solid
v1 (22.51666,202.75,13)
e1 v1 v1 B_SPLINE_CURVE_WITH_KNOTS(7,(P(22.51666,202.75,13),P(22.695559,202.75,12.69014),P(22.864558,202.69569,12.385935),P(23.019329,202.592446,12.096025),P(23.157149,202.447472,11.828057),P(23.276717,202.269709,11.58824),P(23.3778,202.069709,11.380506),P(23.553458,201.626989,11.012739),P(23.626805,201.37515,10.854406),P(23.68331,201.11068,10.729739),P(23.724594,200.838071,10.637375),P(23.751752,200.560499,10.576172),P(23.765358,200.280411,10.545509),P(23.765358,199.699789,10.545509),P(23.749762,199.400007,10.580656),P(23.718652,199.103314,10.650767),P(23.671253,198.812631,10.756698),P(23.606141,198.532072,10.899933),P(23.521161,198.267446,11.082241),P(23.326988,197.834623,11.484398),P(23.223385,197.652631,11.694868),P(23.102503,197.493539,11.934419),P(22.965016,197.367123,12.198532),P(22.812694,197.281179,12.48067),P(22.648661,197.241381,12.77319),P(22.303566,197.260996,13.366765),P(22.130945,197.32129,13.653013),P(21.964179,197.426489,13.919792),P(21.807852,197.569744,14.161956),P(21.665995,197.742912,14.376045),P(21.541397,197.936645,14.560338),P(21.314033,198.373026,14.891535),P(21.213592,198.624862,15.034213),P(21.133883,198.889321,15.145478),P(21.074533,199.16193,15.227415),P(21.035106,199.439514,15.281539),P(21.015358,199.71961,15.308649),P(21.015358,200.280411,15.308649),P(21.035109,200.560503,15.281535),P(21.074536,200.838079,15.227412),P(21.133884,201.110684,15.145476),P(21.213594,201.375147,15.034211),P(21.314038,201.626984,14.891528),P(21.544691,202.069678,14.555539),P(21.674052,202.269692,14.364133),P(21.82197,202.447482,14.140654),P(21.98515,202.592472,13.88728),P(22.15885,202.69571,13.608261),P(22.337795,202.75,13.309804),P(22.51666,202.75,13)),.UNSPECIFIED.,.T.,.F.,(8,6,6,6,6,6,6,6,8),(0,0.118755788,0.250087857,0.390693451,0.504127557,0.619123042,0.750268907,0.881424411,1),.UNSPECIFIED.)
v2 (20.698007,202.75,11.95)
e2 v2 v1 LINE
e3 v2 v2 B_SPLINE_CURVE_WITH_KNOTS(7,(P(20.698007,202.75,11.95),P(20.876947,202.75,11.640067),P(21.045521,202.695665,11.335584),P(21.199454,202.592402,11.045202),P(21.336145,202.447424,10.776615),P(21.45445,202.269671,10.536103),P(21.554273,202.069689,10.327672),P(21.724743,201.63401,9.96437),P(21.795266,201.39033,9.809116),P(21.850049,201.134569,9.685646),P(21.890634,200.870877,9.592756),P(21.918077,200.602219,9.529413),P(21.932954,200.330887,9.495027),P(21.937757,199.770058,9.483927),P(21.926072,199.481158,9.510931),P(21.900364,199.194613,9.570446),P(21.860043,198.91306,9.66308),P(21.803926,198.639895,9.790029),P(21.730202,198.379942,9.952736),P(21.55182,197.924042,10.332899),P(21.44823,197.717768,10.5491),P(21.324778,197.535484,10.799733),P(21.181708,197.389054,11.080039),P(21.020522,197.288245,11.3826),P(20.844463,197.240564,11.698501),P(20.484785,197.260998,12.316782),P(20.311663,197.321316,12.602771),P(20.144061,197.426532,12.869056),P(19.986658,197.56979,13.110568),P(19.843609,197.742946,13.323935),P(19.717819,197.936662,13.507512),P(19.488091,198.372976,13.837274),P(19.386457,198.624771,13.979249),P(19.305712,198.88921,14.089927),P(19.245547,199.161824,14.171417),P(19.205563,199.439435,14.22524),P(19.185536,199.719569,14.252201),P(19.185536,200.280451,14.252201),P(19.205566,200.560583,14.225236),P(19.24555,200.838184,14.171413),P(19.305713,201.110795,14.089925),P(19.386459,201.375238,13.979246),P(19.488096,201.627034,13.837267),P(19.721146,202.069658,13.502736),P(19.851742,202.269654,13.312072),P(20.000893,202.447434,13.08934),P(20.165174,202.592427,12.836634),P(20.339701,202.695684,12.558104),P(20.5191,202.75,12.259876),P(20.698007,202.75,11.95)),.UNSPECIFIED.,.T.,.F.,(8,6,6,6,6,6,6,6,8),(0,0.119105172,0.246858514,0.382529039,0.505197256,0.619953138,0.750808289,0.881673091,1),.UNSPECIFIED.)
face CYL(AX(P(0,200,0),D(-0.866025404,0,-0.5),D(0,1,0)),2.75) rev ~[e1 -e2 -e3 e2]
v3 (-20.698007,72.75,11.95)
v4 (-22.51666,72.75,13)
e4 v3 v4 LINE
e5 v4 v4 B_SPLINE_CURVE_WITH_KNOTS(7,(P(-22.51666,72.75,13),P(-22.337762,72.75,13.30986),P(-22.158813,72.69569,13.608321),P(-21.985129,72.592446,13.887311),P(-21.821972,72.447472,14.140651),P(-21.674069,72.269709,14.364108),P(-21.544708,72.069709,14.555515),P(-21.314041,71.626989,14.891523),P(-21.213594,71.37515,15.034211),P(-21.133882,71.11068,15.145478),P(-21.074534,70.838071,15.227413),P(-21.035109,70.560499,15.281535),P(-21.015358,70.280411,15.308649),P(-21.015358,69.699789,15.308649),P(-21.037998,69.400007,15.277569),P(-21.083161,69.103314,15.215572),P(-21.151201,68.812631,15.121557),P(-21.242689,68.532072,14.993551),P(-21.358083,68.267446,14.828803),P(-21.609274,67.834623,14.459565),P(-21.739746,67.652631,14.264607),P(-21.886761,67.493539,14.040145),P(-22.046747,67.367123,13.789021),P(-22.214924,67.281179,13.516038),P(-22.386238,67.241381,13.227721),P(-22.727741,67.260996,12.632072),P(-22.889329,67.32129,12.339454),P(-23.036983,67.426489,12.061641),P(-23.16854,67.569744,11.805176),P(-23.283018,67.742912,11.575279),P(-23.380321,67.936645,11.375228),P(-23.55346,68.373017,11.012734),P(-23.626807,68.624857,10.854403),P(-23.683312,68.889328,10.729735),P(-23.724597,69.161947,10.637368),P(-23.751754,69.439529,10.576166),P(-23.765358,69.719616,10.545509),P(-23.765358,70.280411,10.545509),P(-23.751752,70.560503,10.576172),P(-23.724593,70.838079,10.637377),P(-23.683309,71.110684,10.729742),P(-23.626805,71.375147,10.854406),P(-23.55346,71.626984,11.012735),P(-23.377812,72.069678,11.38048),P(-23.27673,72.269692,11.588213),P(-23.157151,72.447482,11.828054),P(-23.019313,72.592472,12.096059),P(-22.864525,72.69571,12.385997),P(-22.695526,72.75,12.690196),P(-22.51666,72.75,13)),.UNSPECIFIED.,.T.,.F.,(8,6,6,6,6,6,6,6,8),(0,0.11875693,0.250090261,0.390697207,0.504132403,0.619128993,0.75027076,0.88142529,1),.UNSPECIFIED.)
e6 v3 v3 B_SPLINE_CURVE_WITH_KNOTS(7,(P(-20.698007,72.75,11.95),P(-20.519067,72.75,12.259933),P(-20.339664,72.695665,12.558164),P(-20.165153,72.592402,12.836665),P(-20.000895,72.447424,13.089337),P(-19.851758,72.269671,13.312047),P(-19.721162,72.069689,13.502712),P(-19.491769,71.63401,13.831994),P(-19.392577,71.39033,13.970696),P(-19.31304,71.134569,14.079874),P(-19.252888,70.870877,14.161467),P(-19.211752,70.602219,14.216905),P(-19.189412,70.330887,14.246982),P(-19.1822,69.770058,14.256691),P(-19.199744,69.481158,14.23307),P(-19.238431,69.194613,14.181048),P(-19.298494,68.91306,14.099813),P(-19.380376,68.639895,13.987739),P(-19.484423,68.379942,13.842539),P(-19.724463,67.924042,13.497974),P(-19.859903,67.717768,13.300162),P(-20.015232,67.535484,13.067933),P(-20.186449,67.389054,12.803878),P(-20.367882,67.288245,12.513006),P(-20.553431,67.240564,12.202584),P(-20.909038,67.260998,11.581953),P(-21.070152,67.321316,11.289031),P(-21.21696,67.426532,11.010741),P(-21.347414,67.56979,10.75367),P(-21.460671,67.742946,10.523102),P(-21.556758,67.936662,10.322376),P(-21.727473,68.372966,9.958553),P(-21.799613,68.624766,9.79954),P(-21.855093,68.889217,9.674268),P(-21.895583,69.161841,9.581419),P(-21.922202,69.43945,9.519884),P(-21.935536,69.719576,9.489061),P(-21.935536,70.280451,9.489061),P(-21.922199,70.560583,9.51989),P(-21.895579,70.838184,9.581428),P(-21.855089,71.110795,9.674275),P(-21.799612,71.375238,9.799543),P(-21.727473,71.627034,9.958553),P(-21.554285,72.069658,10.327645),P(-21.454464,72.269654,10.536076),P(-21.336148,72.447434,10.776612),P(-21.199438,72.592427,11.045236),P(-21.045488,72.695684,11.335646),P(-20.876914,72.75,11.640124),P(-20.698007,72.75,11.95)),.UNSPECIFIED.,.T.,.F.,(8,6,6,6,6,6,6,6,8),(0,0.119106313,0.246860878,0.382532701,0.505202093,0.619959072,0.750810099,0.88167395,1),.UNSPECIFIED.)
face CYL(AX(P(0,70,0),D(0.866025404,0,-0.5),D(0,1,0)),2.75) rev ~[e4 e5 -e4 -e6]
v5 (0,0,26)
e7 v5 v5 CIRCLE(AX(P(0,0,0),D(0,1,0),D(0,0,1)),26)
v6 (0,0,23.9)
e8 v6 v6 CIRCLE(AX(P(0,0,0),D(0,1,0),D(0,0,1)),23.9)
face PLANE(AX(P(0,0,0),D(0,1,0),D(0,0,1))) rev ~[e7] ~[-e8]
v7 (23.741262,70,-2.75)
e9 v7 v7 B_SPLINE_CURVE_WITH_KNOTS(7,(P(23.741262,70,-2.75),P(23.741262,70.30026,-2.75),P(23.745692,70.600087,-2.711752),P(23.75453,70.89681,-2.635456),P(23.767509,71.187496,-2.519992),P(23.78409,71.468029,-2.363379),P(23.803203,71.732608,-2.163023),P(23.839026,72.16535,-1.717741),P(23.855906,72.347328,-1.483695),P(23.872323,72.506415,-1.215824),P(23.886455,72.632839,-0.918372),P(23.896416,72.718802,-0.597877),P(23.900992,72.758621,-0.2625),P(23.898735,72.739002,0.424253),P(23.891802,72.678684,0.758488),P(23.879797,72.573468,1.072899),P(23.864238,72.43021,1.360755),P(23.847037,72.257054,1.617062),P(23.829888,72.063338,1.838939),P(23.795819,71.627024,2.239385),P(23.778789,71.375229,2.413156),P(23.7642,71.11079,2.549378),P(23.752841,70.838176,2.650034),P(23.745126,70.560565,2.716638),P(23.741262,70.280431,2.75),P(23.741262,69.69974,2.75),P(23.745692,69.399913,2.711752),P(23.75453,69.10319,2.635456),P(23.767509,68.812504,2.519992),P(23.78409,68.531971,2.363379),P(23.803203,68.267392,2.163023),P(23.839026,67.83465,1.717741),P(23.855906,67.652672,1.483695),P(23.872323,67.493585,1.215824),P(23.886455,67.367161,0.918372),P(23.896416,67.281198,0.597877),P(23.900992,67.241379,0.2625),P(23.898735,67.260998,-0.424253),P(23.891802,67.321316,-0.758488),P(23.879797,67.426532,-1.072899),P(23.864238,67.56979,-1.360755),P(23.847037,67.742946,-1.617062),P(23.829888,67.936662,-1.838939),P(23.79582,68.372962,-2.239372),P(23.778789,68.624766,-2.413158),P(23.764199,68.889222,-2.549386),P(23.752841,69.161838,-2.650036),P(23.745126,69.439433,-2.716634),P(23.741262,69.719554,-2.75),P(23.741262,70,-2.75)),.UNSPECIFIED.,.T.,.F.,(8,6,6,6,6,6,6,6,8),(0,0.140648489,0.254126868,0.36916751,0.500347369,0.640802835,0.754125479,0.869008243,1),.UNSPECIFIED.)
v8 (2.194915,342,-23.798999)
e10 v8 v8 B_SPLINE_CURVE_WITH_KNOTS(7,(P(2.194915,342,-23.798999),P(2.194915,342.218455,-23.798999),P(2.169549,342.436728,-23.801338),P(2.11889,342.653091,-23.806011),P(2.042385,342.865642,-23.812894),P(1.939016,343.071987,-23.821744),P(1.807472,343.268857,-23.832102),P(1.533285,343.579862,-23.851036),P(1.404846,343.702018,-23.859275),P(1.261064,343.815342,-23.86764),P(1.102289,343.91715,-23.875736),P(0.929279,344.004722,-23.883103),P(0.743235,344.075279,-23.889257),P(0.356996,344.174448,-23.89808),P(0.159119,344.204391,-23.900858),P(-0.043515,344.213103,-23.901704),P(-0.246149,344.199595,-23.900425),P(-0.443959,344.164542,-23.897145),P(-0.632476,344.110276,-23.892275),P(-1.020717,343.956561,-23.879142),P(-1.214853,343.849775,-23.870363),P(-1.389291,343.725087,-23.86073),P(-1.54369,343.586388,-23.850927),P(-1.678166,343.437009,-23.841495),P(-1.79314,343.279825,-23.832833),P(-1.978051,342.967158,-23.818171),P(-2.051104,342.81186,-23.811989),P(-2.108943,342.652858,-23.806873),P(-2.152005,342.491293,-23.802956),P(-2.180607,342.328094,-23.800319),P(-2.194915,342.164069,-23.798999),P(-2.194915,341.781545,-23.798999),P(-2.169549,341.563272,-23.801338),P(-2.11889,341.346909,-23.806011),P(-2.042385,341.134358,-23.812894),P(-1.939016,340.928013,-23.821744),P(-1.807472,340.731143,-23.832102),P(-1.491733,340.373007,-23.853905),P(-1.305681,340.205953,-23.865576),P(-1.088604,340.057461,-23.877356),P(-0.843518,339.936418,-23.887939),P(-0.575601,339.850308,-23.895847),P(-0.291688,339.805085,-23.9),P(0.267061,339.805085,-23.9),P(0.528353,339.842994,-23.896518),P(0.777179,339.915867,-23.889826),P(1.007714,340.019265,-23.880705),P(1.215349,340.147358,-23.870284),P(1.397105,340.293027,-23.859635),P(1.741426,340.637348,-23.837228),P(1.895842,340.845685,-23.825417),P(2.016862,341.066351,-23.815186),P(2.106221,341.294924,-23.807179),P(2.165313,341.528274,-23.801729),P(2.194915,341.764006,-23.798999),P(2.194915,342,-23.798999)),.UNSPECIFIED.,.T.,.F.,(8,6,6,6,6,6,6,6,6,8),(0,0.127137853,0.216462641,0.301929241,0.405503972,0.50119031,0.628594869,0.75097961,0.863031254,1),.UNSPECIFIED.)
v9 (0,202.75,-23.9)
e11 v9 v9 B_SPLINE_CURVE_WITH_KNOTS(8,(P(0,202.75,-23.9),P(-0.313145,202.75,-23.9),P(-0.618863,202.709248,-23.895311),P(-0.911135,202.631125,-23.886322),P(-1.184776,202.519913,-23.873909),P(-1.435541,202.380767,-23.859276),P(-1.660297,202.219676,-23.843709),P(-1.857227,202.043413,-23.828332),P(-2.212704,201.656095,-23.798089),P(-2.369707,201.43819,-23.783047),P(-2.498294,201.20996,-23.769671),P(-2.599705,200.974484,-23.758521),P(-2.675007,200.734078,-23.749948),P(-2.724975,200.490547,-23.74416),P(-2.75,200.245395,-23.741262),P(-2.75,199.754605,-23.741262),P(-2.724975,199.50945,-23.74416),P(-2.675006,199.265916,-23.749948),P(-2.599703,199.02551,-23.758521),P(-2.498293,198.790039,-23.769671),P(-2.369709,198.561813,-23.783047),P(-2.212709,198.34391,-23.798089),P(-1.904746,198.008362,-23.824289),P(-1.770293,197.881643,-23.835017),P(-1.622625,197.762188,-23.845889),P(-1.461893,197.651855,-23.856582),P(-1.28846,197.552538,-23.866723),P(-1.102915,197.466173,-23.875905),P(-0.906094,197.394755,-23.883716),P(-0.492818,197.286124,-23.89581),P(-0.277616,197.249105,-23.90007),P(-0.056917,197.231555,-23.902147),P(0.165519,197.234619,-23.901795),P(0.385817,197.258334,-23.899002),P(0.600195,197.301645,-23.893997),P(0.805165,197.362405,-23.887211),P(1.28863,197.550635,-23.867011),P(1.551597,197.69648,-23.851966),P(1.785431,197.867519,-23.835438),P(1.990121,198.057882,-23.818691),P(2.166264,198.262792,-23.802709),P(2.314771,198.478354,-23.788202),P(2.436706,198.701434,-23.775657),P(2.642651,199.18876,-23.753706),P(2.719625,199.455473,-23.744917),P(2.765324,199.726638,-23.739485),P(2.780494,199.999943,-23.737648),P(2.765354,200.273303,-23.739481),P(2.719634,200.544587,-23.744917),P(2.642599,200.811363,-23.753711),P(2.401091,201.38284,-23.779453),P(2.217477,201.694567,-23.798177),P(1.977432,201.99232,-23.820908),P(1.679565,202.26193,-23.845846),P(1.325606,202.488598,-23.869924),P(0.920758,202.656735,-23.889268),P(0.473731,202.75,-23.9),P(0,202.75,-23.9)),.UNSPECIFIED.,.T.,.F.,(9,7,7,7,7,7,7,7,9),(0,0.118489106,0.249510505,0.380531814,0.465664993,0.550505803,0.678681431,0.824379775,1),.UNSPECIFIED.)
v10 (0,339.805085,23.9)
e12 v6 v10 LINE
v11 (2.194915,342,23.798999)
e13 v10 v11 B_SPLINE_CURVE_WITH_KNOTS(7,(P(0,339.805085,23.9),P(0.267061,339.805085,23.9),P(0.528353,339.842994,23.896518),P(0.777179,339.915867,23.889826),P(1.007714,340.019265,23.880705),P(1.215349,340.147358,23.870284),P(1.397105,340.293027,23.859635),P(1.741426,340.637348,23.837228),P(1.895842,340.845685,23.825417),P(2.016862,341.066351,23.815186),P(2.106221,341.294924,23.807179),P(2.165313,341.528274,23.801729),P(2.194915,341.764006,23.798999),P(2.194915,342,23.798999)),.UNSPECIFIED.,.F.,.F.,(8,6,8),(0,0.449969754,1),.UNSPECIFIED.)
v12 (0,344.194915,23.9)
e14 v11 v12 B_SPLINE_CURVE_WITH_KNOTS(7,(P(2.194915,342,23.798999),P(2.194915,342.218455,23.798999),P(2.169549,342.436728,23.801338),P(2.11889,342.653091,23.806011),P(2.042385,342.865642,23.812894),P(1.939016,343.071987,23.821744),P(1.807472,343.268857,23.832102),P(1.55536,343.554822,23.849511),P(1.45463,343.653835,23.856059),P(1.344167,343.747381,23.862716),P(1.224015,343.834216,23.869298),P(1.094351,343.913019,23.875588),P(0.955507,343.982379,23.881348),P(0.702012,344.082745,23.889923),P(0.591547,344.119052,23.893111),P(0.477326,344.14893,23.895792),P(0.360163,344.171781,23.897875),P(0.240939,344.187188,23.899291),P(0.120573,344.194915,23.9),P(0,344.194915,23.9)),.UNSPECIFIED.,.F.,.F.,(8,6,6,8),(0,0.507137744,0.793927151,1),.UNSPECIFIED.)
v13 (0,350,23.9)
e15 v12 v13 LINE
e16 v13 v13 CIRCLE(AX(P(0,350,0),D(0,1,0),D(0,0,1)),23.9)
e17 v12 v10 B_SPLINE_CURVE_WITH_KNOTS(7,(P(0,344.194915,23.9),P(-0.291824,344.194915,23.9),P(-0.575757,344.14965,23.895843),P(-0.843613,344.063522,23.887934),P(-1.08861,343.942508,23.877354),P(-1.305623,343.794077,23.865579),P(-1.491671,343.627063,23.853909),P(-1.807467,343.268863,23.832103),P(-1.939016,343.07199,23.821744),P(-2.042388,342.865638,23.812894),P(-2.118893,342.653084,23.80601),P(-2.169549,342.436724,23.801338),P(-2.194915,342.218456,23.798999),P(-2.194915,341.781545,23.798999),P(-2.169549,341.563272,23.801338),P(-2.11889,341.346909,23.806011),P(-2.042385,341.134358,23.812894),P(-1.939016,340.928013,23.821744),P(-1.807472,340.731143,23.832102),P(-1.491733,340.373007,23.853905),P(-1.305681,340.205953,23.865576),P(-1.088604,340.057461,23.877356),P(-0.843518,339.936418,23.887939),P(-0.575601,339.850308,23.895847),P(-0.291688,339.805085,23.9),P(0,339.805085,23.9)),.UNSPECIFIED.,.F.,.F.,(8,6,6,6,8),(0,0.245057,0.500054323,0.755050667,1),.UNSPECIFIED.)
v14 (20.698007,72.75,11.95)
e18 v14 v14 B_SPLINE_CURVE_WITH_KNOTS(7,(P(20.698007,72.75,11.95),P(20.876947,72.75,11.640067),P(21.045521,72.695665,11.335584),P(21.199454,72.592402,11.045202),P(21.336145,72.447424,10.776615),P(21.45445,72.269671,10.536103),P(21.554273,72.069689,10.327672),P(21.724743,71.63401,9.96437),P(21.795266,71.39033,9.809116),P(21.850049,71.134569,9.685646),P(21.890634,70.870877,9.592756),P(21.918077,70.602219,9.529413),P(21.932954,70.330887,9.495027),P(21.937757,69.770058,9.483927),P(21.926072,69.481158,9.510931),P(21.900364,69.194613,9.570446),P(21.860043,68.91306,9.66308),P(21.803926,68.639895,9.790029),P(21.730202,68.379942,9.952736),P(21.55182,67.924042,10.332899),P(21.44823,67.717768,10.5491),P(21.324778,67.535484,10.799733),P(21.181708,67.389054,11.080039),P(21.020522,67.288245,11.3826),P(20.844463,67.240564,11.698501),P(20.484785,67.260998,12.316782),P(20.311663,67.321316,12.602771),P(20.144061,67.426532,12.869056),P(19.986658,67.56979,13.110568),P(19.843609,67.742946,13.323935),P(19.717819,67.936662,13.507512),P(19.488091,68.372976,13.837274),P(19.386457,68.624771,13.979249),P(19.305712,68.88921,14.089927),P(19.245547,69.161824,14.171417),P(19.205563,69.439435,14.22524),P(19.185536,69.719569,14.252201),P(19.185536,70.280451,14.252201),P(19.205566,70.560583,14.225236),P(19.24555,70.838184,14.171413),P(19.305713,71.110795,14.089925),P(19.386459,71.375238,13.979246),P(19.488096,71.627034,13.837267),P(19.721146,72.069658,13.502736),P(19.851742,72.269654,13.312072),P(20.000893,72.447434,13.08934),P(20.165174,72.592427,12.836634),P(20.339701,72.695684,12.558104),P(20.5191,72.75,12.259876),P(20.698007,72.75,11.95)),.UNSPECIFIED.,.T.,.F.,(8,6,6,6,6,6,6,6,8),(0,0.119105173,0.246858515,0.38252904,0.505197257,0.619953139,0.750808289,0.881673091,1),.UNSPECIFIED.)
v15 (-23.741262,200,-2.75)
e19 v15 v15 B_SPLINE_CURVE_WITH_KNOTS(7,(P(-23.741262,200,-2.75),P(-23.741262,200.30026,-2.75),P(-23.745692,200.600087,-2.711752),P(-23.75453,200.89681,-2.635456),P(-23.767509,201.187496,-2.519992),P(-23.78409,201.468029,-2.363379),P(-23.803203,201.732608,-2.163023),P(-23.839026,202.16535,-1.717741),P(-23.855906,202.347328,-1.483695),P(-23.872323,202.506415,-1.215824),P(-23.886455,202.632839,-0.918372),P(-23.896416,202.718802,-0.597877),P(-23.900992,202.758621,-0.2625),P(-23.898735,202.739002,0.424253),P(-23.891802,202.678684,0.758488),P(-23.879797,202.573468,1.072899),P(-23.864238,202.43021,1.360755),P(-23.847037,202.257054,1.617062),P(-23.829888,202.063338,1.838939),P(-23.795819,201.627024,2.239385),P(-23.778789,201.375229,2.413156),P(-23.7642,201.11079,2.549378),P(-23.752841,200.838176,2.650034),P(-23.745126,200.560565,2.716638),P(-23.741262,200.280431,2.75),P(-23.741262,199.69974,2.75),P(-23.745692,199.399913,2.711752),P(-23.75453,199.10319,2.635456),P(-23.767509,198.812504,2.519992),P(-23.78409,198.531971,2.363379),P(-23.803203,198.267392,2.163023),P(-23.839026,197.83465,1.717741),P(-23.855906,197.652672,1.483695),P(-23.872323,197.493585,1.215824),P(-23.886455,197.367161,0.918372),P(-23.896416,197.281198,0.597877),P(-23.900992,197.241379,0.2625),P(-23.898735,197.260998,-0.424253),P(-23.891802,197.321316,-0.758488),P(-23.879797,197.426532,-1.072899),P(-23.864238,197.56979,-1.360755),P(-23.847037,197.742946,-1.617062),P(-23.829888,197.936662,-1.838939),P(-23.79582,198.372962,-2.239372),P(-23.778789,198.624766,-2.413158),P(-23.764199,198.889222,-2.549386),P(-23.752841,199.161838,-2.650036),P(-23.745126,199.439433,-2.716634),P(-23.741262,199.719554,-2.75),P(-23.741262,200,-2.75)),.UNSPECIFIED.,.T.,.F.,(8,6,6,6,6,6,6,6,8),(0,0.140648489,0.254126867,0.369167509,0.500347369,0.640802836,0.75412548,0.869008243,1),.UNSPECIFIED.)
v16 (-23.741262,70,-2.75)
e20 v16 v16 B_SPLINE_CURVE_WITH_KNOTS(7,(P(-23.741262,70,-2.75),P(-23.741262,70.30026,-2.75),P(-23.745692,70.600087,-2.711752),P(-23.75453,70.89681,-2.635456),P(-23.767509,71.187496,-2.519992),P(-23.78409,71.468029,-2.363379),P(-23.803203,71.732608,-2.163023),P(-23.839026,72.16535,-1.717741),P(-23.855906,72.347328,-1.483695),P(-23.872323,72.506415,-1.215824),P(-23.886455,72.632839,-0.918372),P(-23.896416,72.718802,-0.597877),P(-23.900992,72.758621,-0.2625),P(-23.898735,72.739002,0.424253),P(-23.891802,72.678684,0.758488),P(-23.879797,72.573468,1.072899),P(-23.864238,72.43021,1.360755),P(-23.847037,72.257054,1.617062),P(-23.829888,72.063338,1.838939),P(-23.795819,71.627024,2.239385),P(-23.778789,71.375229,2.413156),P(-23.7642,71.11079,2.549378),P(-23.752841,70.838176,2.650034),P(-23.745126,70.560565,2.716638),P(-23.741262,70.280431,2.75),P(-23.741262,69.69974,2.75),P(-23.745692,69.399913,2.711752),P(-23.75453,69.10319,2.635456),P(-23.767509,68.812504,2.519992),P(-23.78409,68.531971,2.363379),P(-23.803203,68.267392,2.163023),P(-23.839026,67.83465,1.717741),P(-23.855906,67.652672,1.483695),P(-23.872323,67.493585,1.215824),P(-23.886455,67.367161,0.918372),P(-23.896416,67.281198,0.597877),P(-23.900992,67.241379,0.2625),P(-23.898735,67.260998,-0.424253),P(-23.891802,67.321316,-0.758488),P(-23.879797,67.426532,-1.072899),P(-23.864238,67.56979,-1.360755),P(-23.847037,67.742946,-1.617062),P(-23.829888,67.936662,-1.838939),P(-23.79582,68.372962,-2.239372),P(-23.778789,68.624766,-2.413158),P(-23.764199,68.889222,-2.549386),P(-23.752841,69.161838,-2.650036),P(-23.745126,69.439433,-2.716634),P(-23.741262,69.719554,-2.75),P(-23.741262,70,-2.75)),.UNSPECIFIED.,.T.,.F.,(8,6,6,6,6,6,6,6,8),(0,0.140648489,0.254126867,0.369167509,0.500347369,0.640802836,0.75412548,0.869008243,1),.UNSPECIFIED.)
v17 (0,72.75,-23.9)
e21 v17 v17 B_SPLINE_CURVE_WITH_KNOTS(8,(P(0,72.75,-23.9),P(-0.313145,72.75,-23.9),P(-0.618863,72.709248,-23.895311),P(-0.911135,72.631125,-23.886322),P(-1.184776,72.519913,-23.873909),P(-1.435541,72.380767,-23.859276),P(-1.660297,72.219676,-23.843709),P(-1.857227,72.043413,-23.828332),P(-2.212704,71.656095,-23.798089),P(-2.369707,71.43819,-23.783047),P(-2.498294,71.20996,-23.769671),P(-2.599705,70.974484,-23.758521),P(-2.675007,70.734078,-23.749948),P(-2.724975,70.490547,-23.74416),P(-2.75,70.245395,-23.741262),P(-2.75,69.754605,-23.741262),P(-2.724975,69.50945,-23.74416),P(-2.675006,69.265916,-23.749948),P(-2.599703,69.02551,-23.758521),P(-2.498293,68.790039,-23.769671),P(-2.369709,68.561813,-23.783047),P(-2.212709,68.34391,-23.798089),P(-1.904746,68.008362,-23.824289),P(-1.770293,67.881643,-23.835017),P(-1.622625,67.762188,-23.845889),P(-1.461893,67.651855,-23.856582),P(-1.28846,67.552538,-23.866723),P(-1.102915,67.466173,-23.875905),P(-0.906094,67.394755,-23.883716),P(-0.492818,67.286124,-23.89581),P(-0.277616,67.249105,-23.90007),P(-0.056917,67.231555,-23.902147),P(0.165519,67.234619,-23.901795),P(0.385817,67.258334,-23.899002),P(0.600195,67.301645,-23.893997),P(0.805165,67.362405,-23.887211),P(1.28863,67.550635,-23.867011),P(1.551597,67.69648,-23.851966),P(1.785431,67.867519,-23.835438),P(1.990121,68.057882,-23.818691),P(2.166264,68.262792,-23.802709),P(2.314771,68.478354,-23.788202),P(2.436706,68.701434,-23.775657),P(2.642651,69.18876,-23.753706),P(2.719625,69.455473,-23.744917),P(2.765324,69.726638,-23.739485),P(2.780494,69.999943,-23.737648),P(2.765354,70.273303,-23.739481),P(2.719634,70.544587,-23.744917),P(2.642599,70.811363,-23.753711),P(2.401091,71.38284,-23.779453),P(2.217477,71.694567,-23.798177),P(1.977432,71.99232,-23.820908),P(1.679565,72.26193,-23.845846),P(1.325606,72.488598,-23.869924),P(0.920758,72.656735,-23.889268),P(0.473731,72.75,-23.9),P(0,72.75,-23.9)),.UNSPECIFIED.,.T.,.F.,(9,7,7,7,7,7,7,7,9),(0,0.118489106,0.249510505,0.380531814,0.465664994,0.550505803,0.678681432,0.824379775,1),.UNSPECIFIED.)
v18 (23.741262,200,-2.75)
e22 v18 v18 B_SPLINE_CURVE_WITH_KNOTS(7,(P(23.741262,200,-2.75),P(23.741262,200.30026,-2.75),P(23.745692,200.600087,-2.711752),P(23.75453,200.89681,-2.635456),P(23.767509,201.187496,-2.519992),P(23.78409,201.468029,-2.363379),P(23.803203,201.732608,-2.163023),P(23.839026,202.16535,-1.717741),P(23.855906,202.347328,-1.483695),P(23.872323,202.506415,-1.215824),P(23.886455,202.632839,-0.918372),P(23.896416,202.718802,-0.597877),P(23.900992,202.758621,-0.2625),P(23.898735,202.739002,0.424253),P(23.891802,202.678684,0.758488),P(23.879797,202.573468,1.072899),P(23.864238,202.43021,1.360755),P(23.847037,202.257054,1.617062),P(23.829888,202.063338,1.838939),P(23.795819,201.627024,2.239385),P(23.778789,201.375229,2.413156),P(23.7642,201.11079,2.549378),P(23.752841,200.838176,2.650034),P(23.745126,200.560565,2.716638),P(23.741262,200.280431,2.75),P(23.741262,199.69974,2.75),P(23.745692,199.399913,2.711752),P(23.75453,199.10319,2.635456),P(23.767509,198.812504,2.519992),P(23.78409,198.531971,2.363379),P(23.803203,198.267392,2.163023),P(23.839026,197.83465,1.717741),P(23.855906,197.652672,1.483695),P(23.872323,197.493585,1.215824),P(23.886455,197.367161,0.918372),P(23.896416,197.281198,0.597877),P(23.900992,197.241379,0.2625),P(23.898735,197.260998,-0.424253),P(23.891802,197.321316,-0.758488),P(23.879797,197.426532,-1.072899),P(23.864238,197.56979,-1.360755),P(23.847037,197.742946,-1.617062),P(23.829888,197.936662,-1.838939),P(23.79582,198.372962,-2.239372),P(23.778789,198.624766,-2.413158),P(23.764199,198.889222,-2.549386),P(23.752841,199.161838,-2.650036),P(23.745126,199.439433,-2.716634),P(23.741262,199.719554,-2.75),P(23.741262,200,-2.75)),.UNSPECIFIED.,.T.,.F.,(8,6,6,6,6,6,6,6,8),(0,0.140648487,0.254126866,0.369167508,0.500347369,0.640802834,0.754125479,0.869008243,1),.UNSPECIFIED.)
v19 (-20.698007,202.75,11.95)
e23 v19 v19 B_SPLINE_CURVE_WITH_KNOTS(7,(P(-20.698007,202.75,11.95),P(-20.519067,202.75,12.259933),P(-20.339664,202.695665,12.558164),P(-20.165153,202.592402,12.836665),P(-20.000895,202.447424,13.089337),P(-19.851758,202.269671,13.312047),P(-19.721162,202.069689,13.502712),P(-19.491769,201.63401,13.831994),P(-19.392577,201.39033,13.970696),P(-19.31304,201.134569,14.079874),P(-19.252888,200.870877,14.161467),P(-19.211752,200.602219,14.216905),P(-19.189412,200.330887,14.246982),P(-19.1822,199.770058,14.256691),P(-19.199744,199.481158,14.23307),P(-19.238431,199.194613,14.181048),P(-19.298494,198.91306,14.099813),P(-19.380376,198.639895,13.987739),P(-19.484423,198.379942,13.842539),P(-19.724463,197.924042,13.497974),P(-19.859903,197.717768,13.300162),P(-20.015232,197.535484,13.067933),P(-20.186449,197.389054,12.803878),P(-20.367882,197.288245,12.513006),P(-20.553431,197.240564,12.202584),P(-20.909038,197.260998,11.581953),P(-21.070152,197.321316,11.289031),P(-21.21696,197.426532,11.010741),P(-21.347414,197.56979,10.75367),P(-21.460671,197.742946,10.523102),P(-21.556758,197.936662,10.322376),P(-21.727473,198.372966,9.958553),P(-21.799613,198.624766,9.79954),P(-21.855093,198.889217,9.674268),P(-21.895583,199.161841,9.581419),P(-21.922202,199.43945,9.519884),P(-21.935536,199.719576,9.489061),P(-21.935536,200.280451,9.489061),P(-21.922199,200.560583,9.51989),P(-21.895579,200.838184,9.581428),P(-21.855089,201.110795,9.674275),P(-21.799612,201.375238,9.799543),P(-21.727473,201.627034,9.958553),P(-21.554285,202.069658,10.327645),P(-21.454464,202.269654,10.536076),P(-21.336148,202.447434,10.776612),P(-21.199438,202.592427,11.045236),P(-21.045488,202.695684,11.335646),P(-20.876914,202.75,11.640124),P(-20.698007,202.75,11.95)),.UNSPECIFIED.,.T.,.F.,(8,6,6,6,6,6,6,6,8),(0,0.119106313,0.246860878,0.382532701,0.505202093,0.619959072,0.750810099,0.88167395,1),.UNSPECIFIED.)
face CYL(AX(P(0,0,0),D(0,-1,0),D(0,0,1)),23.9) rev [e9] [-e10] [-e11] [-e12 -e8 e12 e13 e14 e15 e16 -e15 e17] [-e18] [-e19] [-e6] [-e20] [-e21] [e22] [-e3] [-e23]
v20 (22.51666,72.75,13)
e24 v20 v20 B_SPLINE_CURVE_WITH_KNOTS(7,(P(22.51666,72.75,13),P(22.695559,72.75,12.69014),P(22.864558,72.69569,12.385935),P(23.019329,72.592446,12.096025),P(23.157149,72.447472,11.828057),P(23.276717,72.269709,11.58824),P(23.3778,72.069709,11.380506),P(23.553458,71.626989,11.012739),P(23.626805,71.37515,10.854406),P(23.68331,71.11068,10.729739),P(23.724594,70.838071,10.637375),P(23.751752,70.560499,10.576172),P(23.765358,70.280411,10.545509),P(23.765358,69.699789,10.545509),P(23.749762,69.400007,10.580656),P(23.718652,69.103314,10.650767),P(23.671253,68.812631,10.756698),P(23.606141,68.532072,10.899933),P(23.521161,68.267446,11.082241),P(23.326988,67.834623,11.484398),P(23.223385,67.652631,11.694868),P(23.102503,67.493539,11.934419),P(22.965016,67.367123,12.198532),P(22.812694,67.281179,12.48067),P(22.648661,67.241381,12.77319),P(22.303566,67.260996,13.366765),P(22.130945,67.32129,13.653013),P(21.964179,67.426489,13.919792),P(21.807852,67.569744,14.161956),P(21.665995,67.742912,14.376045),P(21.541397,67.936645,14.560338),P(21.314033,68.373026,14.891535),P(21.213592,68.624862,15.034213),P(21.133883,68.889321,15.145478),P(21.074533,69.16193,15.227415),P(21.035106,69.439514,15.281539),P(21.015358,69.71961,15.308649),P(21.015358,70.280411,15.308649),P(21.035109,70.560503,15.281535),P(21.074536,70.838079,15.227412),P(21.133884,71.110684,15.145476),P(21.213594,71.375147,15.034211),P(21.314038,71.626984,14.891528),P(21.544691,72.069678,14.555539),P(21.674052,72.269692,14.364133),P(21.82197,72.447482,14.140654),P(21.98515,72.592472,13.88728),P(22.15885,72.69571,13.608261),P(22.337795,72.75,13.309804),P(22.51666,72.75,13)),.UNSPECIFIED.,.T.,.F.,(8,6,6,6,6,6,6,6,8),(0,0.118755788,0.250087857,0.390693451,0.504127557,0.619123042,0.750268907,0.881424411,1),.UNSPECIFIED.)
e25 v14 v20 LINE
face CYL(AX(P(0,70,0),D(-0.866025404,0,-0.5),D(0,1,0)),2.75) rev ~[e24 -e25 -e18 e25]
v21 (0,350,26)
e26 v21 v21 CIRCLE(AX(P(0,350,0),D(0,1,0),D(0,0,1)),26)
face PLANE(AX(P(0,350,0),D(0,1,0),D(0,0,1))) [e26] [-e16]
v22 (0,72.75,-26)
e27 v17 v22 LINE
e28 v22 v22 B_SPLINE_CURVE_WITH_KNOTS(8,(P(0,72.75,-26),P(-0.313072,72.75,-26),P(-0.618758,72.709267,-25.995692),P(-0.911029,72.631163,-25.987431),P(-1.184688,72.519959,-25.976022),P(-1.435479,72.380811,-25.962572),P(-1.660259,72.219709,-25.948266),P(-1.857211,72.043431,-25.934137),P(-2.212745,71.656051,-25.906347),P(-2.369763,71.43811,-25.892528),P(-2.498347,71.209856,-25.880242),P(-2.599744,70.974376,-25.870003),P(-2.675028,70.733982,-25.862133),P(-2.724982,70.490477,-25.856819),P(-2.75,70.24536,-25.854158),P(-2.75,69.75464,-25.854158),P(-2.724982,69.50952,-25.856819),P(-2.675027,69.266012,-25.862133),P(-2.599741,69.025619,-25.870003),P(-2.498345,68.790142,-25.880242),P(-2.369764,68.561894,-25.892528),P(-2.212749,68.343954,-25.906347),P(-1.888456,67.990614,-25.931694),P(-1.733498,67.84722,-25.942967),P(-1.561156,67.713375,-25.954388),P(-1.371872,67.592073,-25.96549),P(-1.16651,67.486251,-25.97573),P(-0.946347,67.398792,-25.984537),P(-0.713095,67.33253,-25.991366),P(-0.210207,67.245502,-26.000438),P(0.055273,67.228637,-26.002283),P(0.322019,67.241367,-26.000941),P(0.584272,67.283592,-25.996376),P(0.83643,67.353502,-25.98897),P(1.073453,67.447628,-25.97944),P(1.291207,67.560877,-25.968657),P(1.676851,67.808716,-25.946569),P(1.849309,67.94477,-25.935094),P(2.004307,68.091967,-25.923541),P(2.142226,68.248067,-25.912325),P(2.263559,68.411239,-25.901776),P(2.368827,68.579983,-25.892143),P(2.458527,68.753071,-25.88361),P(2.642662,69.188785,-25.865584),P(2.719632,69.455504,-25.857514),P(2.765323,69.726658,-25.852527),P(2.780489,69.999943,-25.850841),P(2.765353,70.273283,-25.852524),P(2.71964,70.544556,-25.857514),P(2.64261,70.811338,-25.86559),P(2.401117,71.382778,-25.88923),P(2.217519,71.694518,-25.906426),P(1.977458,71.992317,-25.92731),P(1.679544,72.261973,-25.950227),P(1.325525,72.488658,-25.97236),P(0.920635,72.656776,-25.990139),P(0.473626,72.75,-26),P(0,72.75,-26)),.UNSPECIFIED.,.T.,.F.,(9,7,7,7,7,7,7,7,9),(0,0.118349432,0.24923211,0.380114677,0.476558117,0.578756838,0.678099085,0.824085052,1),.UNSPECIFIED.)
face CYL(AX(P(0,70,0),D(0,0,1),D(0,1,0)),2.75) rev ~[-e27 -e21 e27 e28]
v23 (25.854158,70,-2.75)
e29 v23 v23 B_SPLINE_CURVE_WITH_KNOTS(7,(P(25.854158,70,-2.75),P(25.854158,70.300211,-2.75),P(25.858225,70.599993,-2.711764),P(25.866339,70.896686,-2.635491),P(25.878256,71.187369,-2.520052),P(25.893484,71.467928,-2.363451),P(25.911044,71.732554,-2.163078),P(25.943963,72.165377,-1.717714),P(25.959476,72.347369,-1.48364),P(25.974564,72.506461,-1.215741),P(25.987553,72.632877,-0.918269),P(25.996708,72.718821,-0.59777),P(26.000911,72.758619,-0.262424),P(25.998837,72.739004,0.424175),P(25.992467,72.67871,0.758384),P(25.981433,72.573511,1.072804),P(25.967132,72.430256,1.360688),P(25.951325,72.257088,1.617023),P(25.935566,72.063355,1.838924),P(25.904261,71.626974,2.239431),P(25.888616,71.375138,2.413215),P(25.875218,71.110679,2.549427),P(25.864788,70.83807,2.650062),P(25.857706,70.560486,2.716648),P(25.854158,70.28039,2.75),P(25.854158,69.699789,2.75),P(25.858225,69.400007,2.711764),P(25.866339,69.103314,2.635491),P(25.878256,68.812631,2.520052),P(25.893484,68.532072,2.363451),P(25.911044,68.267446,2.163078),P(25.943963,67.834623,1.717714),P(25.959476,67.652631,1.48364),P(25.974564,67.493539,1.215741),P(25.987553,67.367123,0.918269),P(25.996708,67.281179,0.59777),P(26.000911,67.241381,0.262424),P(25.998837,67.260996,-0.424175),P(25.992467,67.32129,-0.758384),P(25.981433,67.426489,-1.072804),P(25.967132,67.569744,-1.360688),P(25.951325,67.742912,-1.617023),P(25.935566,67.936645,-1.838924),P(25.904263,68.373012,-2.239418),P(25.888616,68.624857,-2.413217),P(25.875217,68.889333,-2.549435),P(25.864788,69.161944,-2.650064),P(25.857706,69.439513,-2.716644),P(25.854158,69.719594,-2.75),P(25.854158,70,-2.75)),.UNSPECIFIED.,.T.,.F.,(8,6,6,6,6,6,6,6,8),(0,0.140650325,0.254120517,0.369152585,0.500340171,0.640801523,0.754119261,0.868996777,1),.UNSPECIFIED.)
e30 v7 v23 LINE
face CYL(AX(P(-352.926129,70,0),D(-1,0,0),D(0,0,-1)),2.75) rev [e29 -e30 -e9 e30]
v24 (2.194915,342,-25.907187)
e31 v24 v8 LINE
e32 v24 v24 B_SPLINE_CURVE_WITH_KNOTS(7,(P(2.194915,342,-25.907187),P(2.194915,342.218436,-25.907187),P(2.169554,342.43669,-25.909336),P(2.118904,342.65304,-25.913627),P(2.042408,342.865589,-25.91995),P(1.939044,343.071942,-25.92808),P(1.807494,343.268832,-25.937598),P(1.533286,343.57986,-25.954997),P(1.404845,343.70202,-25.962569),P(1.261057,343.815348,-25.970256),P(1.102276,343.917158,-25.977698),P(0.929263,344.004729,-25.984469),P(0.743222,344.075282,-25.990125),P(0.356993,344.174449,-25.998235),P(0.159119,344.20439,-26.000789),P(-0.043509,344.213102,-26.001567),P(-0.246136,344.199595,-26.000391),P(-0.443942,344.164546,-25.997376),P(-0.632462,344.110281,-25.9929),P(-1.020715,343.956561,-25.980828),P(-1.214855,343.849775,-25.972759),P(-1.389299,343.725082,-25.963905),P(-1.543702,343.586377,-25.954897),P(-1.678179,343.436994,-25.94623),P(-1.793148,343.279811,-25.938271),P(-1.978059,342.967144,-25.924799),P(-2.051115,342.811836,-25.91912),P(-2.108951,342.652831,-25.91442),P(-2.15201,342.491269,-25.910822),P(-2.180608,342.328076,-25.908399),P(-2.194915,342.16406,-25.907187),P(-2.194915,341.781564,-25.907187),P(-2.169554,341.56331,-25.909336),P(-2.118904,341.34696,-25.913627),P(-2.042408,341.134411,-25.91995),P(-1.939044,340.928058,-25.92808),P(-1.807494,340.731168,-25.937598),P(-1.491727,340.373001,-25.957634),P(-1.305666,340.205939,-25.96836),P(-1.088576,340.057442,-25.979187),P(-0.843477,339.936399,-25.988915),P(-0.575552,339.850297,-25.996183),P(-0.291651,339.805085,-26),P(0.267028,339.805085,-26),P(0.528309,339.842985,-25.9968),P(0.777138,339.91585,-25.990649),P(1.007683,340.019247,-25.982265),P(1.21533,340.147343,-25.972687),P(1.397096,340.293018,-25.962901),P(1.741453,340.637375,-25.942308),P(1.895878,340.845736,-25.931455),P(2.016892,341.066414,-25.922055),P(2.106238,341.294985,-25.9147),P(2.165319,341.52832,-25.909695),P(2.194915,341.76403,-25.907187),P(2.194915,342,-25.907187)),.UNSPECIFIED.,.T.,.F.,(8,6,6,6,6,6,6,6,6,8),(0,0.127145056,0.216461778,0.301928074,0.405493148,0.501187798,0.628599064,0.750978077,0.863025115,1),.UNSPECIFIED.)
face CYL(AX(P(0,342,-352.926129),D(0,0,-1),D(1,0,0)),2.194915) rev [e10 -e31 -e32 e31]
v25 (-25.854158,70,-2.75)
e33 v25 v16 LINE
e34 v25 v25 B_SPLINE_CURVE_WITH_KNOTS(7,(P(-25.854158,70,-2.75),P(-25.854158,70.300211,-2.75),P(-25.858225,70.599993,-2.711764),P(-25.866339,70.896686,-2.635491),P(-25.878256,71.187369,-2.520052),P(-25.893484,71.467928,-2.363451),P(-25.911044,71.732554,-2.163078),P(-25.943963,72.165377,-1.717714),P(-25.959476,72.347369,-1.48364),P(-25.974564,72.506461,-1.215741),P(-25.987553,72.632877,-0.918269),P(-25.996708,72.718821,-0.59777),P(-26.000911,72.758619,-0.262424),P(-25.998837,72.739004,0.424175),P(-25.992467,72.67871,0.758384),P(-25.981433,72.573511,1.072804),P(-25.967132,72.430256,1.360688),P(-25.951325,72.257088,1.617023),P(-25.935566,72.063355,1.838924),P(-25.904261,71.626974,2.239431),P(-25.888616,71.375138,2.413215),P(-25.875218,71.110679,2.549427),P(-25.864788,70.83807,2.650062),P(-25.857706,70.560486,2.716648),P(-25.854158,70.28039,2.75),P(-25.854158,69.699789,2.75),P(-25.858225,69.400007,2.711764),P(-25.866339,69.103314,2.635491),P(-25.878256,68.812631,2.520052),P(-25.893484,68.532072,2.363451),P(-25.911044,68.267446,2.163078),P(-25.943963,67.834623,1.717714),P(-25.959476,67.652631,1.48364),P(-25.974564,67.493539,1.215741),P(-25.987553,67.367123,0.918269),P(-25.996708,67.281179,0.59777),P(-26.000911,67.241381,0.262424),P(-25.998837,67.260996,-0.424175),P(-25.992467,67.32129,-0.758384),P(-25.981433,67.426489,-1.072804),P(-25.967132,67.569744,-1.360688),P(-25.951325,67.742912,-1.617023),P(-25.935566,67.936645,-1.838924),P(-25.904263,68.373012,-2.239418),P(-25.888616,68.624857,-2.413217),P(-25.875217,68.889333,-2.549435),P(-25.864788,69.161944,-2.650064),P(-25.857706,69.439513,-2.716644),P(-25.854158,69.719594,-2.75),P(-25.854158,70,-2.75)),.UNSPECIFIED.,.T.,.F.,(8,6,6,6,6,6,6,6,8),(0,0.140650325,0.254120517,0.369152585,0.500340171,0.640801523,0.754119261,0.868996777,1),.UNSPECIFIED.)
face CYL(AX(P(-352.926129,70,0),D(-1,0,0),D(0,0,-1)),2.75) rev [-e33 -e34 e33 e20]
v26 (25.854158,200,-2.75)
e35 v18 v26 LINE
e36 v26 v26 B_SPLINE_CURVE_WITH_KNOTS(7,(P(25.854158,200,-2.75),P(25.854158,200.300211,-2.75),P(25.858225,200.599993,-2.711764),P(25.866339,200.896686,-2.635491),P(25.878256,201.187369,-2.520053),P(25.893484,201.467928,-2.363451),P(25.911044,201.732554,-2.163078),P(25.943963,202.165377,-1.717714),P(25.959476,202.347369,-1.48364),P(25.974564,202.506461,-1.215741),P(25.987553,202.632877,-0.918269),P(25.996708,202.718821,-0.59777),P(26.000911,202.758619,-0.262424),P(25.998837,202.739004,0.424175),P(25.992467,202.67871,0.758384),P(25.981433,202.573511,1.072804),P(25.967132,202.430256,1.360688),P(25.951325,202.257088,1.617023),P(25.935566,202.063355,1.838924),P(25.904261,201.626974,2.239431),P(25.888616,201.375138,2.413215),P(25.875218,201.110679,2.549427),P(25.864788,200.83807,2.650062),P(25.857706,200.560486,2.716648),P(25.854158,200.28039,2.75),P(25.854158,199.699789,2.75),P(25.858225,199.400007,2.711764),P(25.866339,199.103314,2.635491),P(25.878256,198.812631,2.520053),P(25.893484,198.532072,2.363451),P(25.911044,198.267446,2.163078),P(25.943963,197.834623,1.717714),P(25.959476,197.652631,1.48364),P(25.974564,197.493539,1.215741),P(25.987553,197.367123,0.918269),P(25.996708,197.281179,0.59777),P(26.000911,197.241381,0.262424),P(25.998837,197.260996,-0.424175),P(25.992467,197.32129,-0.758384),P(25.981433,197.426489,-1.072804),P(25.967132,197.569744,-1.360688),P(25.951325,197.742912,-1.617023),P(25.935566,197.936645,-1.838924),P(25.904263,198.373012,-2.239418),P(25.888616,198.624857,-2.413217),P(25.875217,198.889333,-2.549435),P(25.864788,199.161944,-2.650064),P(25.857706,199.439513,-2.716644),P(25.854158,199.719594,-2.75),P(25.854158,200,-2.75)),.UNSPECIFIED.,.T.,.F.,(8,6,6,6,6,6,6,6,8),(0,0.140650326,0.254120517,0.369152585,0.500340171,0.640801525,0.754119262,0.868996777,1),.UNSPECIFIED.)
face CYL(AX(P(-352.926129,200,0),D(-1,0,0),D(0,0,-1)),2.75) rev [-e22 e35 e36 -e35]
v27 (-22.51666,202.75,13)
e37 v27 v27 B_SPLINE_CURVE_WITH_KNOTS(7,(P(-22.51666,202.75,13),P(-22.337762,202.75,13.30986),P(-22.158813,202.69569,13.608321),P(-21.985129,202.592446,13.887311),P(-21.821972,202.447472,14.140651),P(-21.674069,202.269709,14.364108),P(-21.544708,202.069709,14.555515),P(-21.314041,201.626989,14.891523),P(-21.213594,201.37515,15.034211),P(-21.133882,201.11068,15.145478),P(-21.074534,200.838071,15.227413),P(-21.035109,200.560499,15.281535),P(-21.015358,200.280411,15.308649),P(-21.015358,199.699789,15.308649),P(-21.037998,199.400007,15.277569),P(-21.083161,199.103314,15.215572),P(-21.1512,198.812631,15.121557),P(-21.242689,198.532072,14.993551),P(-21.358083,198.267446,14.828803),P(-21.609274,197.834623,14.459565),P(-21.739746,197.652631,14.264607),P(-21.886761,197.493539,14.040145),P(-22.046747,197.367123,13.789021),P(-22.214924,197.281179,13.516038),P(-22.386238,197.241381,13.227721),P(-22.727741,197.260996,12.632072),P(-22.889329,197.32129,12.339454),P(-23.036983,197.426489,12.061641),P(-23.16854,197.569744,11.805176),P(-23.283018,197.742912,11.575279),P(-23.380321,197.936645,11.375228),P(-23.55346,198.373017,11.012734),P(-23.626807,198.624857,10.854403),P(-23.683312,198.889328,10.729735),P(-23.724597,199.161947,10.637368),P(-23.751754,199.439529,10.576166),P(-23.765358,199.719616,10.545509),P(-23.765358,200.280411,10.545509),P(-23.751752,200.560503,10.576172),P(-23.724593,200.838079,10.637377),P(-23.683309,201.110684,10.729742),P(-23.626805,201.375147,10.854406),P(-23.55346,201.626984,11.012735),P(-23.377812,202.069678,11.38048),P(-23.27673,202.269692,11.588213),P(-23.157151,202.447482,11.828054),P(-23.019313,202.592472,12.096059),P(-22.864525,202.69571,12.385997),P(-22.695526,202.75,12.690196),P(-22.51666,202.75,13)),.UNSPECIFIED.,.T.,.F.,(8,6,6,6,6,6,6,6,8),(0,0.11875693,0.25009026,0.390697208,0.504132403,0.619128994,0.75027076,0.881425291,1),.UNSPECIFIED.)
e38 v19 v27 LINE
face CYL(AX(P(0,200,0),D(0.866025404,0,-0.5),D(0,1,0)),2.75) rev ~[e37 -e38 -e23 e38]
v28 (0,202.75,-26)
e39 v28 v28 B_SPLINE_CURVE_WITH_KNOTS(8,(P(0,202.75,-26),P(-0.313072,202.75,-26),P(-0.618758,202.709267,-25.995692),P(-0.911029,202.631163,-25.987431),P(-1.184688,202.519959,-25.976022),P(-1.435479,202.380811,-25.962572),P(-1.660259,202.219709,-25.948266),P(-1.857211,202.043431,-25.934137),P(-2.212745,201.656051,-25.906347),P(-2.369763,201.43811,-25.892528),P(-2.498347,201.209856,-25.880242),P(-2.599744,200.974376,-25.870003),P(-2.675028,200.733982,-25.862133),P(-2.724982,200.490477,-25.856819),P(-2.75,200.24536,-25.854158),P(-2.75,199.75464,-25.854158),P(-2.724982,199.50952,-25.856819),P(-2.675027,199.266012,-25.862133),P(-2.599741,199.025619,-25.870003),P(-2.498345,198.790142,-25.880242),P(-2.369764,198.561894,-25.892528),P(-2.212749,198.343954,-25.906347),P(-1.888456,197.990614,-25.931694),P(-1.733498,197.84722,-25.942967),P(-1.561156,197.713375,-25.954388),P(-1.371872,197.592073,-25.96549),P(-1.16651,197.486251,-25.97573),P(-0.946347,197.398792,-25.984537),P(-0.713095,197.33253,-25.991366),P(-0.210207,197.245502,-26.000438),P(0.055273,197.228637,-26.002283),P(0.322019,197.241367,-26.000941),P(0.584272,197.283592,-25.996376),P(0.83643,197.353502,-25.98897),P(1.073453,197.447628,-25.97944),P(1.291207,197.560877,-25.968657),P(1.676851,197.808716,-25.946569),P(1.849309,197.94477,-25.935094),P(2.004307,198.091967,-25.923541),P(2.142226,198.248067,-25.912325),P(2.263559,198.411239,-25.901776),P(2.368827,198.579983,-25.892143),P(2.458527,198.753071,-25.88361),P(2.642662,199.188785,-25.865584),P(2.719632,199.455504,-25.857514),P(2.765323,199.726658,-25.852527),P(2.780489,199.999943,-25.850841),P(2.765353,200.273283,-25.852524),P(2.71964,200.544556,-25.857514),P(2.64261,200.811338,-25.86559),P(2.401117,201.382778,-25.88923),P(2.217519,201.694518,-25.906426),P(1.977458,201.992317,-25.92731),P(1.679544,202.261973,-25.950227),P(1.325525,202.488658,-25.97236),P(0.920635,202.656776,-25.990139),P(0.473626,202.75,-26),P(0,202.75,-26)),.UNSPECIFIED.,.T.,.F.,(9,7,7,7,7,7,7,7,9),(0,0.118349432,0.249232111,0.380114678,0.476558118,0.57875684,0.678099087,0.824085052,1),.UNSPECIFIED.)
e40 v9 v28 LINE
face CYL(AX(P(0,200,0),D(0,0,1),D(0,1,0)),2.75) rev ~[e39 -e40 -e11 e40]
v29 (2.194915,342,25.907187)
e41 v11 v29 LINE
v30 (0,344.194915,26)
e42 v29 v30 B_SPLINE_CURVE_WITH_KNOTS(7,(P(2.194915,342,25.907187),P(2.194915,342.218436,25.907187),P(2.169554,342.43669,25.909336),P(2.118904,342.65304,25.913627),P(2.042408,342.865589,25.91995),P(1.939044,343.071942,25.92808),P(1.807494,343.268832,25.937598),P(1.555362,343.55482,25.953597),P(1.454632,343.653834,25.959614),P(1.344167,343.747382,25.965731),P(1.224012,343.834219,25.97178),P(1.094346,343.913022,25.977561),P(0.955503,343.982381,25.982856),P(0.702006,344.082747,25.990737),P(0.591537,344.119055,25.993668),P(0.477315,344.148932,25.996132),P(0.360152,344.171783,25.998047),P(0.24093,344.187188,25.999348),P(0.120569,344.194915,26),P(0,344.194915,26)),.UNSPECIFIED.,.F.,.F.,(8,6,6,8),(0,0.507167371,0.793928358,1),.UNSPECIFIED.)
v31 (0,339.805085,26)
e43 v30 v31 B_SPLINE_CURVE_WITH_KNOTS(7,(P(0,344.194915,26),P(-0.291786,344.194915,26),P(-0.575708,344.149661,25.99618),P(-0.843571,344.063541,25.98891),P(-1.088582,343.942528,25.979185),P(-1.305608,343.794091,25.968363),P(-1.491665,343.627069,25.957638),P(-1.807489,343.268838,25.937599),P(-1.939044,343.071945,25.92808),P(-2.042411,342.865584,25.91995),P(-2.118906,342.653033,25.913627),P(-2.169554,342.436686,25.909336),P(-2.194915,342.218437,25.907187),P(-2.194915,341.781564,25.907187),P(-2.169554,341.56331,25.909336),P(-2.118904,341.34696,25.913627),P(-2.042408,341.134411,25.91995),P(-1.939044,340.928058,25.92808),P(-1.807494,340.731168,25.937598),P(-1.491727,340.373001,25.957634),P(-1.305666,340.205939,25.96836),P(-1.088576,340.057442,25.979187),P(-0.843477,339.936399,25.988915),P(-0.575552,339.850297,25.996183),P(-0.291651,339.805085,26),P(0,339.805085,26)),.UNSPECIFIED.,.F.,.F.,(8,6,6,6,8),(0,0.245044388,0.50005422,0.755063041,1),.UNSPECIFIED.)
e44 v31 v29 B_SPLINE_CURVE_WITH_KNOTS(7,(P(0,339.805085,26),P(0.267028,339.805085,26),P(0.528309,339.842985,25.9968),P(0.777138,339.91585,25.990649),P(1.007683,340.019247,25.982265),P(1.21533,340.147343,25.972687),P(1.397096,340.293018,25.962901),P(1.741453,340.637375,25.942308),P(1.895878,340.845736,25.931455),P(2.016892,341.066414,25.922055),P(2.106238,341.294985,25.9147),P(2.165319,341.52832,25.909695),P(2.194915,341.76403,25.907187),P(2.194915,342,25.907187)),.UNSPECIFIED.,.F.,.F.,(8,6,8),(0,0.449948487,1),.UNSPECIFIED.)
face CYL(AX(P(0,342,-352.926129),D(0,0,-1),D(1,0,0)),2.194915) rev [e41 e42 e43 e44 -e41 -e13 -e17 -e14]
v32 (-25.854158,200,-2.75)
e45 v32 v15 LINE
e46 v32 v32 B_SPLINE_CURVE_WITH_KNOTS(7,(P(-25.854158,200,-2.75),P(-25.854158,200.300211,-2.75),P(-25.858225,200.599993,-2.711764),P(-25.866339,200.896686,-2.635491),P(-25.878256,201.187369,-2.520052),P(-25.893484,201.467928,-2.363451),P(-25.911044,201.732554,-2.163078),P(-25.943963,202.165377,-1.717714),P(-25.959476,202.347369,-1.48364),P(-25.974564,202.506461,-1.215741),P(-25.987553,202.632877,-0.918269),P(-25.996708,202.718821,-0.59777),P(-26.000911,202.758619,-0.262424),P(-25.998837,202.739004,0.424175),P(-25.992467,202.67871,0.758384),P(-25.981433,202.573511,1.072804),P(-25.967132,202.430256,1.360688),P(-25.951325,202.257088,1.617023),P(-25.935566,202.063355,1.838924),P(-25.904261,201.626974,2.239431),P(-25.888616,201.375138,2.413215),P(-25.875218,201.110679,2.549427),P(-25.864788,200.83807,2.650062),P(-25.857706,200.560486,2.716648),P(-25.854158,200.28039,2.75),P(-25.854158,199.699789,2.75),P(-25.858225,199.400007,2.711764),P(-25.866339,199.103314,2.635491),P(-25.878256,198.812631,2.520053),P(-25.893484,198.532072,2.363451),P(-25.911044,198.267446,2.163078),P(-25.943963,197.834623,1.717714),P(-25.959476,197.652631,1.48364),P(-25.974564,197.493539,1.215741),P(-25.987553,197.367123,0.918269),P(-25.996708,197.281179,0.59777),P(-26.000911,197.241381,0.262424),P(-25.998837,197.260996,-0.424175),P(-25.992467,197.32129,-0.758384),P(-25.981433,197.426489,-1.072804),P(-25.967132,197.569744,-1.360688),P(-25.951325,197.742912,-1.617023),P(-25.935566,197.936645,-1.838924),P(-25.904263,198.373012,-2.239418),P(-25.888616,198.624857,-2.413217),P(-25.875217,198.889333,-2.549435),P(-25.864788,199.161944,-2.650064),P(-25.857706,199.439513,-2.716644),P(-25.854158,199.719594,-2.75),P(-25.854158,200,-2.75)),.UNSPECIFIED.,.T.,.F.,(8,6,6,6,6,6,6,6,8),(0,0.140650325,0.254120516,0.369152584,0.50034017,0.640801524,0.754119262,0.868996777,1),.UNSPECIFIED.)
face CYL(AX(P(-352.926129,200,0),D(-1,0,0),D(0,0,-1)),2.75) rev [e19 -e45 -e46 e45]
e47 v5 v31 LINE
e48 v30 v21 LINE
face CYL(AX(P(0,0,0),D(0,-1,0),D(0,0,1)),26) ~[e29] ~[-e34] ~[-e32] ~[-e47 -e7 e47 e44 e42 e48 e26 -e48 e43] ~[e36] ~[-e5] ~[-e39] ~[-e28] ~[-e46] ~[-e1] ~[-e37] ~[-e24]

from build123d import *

# Parameters (mm, degrees)
SKETCH1_R               = 26
SKETCH1_R_2             = 23.9
BOSS_EXTRUDE1_DEPTH     = 350
SKETCH3_R               = 2.75
CUT_EXTRUDE2_DEPTH      = 352.926128612
CIRPATTERN1_COUNT       = 3
CUT_EXTRUDE3_DEPTH      = 352.926128726
CUT_EXTRUDE3_DEPTH_BACK = 352.926128726
SKETCH5_R               = 2.75
CUT_EXTRUDE4_DEPTH      = 352.926128726
CUT_EXTRUDE4_DEPTH_BACK = 352.926128726
SKETCH6_R               = 2.194915


with BuildPart() as part:
    # Sketch1 → Boss-Extrude1 (new body)
    with BuildSketch(Plane(origin=(0, 0, 0), x_dir=(1, 0, 0), z_dir=(0, 1, 0))):
        with Locations(Location((0, 0, 0), (0, 0, 270))):
            Circle(SKETCH1_R)
        with Locations(Location((0, 0, 0), (0, 0, 270))):
            Circle(SKETCH1_R_2, mode=Mode.SUBTRACT)
    extrude(amount=BOSS_EXTRUDE1_DEPTH)

    # Sketch3 → Cut-Extrude2 (cut, through all)
    with BuildSketch(Plane.XY):
        with Locations(Location((0, 70, 0), (0, 0, 90))):
            Circle(SKETCH3_R)
        with Locations(Location((0, 200, 0), (0, 0, 90))):
            Circle(SKETCH3_R)
    cut_extrude2 = extrude(amount=-CUT_EXTRUDE2_DEPTH, mode=Mode.SUBTRACT)

    # CirPattern1: Cut-Extrude2 ×3 about axis
    cirpattern1_axis = Axis((0, 350, 0), (0, -1, 0))
    for i in range(1, CIRPATTERN1_COUNT):
        add(cut_extrude2.rotate(cirpattern1_axis, i * 360 / CIRPATTERN1_COUNT), mode=Mode.SUBTRACT)

    # Sketch5 → Cut-Extrude3 (cut, two sides: drawn at the far end of the back side and taken through both)
    with BuildSketch(Plane(origin=(0, 0, 0), x_dir=(0, 0, -1), z_dir=(1, 0, 0)).offset(-CUT_EXTRUDE3_DEPTH_BACK)):
        with Locations((0, 200)):
            Circle(SKETCH5_R)
        with Locations((0, 70)):
            Circle(SKETCH5_R)
    extrude(amount=CUT_EXTRUDE3_DEPTH + CUT_EXTRUDE3_DEPTH_BACK, mode=Mode.SUBTRACT)

    # Sketch6 → Cut-Extrude4 (cut, two sides: drawn at the far end of the back side and taken through both)
    with BuildSketch(Plane.XY.offset(-CUT_EXTRUDE4_DEPTH_BACK)):
        with Locations((0, 342)):
            Circle(SKETCH6_R)
    extrude(amount=CUT_EXTRUDE4_DEPTH + CUT_EXTRUDE4_DEPTH_BACK, mode=Mode.SUBTRACT)


solid = part.part
